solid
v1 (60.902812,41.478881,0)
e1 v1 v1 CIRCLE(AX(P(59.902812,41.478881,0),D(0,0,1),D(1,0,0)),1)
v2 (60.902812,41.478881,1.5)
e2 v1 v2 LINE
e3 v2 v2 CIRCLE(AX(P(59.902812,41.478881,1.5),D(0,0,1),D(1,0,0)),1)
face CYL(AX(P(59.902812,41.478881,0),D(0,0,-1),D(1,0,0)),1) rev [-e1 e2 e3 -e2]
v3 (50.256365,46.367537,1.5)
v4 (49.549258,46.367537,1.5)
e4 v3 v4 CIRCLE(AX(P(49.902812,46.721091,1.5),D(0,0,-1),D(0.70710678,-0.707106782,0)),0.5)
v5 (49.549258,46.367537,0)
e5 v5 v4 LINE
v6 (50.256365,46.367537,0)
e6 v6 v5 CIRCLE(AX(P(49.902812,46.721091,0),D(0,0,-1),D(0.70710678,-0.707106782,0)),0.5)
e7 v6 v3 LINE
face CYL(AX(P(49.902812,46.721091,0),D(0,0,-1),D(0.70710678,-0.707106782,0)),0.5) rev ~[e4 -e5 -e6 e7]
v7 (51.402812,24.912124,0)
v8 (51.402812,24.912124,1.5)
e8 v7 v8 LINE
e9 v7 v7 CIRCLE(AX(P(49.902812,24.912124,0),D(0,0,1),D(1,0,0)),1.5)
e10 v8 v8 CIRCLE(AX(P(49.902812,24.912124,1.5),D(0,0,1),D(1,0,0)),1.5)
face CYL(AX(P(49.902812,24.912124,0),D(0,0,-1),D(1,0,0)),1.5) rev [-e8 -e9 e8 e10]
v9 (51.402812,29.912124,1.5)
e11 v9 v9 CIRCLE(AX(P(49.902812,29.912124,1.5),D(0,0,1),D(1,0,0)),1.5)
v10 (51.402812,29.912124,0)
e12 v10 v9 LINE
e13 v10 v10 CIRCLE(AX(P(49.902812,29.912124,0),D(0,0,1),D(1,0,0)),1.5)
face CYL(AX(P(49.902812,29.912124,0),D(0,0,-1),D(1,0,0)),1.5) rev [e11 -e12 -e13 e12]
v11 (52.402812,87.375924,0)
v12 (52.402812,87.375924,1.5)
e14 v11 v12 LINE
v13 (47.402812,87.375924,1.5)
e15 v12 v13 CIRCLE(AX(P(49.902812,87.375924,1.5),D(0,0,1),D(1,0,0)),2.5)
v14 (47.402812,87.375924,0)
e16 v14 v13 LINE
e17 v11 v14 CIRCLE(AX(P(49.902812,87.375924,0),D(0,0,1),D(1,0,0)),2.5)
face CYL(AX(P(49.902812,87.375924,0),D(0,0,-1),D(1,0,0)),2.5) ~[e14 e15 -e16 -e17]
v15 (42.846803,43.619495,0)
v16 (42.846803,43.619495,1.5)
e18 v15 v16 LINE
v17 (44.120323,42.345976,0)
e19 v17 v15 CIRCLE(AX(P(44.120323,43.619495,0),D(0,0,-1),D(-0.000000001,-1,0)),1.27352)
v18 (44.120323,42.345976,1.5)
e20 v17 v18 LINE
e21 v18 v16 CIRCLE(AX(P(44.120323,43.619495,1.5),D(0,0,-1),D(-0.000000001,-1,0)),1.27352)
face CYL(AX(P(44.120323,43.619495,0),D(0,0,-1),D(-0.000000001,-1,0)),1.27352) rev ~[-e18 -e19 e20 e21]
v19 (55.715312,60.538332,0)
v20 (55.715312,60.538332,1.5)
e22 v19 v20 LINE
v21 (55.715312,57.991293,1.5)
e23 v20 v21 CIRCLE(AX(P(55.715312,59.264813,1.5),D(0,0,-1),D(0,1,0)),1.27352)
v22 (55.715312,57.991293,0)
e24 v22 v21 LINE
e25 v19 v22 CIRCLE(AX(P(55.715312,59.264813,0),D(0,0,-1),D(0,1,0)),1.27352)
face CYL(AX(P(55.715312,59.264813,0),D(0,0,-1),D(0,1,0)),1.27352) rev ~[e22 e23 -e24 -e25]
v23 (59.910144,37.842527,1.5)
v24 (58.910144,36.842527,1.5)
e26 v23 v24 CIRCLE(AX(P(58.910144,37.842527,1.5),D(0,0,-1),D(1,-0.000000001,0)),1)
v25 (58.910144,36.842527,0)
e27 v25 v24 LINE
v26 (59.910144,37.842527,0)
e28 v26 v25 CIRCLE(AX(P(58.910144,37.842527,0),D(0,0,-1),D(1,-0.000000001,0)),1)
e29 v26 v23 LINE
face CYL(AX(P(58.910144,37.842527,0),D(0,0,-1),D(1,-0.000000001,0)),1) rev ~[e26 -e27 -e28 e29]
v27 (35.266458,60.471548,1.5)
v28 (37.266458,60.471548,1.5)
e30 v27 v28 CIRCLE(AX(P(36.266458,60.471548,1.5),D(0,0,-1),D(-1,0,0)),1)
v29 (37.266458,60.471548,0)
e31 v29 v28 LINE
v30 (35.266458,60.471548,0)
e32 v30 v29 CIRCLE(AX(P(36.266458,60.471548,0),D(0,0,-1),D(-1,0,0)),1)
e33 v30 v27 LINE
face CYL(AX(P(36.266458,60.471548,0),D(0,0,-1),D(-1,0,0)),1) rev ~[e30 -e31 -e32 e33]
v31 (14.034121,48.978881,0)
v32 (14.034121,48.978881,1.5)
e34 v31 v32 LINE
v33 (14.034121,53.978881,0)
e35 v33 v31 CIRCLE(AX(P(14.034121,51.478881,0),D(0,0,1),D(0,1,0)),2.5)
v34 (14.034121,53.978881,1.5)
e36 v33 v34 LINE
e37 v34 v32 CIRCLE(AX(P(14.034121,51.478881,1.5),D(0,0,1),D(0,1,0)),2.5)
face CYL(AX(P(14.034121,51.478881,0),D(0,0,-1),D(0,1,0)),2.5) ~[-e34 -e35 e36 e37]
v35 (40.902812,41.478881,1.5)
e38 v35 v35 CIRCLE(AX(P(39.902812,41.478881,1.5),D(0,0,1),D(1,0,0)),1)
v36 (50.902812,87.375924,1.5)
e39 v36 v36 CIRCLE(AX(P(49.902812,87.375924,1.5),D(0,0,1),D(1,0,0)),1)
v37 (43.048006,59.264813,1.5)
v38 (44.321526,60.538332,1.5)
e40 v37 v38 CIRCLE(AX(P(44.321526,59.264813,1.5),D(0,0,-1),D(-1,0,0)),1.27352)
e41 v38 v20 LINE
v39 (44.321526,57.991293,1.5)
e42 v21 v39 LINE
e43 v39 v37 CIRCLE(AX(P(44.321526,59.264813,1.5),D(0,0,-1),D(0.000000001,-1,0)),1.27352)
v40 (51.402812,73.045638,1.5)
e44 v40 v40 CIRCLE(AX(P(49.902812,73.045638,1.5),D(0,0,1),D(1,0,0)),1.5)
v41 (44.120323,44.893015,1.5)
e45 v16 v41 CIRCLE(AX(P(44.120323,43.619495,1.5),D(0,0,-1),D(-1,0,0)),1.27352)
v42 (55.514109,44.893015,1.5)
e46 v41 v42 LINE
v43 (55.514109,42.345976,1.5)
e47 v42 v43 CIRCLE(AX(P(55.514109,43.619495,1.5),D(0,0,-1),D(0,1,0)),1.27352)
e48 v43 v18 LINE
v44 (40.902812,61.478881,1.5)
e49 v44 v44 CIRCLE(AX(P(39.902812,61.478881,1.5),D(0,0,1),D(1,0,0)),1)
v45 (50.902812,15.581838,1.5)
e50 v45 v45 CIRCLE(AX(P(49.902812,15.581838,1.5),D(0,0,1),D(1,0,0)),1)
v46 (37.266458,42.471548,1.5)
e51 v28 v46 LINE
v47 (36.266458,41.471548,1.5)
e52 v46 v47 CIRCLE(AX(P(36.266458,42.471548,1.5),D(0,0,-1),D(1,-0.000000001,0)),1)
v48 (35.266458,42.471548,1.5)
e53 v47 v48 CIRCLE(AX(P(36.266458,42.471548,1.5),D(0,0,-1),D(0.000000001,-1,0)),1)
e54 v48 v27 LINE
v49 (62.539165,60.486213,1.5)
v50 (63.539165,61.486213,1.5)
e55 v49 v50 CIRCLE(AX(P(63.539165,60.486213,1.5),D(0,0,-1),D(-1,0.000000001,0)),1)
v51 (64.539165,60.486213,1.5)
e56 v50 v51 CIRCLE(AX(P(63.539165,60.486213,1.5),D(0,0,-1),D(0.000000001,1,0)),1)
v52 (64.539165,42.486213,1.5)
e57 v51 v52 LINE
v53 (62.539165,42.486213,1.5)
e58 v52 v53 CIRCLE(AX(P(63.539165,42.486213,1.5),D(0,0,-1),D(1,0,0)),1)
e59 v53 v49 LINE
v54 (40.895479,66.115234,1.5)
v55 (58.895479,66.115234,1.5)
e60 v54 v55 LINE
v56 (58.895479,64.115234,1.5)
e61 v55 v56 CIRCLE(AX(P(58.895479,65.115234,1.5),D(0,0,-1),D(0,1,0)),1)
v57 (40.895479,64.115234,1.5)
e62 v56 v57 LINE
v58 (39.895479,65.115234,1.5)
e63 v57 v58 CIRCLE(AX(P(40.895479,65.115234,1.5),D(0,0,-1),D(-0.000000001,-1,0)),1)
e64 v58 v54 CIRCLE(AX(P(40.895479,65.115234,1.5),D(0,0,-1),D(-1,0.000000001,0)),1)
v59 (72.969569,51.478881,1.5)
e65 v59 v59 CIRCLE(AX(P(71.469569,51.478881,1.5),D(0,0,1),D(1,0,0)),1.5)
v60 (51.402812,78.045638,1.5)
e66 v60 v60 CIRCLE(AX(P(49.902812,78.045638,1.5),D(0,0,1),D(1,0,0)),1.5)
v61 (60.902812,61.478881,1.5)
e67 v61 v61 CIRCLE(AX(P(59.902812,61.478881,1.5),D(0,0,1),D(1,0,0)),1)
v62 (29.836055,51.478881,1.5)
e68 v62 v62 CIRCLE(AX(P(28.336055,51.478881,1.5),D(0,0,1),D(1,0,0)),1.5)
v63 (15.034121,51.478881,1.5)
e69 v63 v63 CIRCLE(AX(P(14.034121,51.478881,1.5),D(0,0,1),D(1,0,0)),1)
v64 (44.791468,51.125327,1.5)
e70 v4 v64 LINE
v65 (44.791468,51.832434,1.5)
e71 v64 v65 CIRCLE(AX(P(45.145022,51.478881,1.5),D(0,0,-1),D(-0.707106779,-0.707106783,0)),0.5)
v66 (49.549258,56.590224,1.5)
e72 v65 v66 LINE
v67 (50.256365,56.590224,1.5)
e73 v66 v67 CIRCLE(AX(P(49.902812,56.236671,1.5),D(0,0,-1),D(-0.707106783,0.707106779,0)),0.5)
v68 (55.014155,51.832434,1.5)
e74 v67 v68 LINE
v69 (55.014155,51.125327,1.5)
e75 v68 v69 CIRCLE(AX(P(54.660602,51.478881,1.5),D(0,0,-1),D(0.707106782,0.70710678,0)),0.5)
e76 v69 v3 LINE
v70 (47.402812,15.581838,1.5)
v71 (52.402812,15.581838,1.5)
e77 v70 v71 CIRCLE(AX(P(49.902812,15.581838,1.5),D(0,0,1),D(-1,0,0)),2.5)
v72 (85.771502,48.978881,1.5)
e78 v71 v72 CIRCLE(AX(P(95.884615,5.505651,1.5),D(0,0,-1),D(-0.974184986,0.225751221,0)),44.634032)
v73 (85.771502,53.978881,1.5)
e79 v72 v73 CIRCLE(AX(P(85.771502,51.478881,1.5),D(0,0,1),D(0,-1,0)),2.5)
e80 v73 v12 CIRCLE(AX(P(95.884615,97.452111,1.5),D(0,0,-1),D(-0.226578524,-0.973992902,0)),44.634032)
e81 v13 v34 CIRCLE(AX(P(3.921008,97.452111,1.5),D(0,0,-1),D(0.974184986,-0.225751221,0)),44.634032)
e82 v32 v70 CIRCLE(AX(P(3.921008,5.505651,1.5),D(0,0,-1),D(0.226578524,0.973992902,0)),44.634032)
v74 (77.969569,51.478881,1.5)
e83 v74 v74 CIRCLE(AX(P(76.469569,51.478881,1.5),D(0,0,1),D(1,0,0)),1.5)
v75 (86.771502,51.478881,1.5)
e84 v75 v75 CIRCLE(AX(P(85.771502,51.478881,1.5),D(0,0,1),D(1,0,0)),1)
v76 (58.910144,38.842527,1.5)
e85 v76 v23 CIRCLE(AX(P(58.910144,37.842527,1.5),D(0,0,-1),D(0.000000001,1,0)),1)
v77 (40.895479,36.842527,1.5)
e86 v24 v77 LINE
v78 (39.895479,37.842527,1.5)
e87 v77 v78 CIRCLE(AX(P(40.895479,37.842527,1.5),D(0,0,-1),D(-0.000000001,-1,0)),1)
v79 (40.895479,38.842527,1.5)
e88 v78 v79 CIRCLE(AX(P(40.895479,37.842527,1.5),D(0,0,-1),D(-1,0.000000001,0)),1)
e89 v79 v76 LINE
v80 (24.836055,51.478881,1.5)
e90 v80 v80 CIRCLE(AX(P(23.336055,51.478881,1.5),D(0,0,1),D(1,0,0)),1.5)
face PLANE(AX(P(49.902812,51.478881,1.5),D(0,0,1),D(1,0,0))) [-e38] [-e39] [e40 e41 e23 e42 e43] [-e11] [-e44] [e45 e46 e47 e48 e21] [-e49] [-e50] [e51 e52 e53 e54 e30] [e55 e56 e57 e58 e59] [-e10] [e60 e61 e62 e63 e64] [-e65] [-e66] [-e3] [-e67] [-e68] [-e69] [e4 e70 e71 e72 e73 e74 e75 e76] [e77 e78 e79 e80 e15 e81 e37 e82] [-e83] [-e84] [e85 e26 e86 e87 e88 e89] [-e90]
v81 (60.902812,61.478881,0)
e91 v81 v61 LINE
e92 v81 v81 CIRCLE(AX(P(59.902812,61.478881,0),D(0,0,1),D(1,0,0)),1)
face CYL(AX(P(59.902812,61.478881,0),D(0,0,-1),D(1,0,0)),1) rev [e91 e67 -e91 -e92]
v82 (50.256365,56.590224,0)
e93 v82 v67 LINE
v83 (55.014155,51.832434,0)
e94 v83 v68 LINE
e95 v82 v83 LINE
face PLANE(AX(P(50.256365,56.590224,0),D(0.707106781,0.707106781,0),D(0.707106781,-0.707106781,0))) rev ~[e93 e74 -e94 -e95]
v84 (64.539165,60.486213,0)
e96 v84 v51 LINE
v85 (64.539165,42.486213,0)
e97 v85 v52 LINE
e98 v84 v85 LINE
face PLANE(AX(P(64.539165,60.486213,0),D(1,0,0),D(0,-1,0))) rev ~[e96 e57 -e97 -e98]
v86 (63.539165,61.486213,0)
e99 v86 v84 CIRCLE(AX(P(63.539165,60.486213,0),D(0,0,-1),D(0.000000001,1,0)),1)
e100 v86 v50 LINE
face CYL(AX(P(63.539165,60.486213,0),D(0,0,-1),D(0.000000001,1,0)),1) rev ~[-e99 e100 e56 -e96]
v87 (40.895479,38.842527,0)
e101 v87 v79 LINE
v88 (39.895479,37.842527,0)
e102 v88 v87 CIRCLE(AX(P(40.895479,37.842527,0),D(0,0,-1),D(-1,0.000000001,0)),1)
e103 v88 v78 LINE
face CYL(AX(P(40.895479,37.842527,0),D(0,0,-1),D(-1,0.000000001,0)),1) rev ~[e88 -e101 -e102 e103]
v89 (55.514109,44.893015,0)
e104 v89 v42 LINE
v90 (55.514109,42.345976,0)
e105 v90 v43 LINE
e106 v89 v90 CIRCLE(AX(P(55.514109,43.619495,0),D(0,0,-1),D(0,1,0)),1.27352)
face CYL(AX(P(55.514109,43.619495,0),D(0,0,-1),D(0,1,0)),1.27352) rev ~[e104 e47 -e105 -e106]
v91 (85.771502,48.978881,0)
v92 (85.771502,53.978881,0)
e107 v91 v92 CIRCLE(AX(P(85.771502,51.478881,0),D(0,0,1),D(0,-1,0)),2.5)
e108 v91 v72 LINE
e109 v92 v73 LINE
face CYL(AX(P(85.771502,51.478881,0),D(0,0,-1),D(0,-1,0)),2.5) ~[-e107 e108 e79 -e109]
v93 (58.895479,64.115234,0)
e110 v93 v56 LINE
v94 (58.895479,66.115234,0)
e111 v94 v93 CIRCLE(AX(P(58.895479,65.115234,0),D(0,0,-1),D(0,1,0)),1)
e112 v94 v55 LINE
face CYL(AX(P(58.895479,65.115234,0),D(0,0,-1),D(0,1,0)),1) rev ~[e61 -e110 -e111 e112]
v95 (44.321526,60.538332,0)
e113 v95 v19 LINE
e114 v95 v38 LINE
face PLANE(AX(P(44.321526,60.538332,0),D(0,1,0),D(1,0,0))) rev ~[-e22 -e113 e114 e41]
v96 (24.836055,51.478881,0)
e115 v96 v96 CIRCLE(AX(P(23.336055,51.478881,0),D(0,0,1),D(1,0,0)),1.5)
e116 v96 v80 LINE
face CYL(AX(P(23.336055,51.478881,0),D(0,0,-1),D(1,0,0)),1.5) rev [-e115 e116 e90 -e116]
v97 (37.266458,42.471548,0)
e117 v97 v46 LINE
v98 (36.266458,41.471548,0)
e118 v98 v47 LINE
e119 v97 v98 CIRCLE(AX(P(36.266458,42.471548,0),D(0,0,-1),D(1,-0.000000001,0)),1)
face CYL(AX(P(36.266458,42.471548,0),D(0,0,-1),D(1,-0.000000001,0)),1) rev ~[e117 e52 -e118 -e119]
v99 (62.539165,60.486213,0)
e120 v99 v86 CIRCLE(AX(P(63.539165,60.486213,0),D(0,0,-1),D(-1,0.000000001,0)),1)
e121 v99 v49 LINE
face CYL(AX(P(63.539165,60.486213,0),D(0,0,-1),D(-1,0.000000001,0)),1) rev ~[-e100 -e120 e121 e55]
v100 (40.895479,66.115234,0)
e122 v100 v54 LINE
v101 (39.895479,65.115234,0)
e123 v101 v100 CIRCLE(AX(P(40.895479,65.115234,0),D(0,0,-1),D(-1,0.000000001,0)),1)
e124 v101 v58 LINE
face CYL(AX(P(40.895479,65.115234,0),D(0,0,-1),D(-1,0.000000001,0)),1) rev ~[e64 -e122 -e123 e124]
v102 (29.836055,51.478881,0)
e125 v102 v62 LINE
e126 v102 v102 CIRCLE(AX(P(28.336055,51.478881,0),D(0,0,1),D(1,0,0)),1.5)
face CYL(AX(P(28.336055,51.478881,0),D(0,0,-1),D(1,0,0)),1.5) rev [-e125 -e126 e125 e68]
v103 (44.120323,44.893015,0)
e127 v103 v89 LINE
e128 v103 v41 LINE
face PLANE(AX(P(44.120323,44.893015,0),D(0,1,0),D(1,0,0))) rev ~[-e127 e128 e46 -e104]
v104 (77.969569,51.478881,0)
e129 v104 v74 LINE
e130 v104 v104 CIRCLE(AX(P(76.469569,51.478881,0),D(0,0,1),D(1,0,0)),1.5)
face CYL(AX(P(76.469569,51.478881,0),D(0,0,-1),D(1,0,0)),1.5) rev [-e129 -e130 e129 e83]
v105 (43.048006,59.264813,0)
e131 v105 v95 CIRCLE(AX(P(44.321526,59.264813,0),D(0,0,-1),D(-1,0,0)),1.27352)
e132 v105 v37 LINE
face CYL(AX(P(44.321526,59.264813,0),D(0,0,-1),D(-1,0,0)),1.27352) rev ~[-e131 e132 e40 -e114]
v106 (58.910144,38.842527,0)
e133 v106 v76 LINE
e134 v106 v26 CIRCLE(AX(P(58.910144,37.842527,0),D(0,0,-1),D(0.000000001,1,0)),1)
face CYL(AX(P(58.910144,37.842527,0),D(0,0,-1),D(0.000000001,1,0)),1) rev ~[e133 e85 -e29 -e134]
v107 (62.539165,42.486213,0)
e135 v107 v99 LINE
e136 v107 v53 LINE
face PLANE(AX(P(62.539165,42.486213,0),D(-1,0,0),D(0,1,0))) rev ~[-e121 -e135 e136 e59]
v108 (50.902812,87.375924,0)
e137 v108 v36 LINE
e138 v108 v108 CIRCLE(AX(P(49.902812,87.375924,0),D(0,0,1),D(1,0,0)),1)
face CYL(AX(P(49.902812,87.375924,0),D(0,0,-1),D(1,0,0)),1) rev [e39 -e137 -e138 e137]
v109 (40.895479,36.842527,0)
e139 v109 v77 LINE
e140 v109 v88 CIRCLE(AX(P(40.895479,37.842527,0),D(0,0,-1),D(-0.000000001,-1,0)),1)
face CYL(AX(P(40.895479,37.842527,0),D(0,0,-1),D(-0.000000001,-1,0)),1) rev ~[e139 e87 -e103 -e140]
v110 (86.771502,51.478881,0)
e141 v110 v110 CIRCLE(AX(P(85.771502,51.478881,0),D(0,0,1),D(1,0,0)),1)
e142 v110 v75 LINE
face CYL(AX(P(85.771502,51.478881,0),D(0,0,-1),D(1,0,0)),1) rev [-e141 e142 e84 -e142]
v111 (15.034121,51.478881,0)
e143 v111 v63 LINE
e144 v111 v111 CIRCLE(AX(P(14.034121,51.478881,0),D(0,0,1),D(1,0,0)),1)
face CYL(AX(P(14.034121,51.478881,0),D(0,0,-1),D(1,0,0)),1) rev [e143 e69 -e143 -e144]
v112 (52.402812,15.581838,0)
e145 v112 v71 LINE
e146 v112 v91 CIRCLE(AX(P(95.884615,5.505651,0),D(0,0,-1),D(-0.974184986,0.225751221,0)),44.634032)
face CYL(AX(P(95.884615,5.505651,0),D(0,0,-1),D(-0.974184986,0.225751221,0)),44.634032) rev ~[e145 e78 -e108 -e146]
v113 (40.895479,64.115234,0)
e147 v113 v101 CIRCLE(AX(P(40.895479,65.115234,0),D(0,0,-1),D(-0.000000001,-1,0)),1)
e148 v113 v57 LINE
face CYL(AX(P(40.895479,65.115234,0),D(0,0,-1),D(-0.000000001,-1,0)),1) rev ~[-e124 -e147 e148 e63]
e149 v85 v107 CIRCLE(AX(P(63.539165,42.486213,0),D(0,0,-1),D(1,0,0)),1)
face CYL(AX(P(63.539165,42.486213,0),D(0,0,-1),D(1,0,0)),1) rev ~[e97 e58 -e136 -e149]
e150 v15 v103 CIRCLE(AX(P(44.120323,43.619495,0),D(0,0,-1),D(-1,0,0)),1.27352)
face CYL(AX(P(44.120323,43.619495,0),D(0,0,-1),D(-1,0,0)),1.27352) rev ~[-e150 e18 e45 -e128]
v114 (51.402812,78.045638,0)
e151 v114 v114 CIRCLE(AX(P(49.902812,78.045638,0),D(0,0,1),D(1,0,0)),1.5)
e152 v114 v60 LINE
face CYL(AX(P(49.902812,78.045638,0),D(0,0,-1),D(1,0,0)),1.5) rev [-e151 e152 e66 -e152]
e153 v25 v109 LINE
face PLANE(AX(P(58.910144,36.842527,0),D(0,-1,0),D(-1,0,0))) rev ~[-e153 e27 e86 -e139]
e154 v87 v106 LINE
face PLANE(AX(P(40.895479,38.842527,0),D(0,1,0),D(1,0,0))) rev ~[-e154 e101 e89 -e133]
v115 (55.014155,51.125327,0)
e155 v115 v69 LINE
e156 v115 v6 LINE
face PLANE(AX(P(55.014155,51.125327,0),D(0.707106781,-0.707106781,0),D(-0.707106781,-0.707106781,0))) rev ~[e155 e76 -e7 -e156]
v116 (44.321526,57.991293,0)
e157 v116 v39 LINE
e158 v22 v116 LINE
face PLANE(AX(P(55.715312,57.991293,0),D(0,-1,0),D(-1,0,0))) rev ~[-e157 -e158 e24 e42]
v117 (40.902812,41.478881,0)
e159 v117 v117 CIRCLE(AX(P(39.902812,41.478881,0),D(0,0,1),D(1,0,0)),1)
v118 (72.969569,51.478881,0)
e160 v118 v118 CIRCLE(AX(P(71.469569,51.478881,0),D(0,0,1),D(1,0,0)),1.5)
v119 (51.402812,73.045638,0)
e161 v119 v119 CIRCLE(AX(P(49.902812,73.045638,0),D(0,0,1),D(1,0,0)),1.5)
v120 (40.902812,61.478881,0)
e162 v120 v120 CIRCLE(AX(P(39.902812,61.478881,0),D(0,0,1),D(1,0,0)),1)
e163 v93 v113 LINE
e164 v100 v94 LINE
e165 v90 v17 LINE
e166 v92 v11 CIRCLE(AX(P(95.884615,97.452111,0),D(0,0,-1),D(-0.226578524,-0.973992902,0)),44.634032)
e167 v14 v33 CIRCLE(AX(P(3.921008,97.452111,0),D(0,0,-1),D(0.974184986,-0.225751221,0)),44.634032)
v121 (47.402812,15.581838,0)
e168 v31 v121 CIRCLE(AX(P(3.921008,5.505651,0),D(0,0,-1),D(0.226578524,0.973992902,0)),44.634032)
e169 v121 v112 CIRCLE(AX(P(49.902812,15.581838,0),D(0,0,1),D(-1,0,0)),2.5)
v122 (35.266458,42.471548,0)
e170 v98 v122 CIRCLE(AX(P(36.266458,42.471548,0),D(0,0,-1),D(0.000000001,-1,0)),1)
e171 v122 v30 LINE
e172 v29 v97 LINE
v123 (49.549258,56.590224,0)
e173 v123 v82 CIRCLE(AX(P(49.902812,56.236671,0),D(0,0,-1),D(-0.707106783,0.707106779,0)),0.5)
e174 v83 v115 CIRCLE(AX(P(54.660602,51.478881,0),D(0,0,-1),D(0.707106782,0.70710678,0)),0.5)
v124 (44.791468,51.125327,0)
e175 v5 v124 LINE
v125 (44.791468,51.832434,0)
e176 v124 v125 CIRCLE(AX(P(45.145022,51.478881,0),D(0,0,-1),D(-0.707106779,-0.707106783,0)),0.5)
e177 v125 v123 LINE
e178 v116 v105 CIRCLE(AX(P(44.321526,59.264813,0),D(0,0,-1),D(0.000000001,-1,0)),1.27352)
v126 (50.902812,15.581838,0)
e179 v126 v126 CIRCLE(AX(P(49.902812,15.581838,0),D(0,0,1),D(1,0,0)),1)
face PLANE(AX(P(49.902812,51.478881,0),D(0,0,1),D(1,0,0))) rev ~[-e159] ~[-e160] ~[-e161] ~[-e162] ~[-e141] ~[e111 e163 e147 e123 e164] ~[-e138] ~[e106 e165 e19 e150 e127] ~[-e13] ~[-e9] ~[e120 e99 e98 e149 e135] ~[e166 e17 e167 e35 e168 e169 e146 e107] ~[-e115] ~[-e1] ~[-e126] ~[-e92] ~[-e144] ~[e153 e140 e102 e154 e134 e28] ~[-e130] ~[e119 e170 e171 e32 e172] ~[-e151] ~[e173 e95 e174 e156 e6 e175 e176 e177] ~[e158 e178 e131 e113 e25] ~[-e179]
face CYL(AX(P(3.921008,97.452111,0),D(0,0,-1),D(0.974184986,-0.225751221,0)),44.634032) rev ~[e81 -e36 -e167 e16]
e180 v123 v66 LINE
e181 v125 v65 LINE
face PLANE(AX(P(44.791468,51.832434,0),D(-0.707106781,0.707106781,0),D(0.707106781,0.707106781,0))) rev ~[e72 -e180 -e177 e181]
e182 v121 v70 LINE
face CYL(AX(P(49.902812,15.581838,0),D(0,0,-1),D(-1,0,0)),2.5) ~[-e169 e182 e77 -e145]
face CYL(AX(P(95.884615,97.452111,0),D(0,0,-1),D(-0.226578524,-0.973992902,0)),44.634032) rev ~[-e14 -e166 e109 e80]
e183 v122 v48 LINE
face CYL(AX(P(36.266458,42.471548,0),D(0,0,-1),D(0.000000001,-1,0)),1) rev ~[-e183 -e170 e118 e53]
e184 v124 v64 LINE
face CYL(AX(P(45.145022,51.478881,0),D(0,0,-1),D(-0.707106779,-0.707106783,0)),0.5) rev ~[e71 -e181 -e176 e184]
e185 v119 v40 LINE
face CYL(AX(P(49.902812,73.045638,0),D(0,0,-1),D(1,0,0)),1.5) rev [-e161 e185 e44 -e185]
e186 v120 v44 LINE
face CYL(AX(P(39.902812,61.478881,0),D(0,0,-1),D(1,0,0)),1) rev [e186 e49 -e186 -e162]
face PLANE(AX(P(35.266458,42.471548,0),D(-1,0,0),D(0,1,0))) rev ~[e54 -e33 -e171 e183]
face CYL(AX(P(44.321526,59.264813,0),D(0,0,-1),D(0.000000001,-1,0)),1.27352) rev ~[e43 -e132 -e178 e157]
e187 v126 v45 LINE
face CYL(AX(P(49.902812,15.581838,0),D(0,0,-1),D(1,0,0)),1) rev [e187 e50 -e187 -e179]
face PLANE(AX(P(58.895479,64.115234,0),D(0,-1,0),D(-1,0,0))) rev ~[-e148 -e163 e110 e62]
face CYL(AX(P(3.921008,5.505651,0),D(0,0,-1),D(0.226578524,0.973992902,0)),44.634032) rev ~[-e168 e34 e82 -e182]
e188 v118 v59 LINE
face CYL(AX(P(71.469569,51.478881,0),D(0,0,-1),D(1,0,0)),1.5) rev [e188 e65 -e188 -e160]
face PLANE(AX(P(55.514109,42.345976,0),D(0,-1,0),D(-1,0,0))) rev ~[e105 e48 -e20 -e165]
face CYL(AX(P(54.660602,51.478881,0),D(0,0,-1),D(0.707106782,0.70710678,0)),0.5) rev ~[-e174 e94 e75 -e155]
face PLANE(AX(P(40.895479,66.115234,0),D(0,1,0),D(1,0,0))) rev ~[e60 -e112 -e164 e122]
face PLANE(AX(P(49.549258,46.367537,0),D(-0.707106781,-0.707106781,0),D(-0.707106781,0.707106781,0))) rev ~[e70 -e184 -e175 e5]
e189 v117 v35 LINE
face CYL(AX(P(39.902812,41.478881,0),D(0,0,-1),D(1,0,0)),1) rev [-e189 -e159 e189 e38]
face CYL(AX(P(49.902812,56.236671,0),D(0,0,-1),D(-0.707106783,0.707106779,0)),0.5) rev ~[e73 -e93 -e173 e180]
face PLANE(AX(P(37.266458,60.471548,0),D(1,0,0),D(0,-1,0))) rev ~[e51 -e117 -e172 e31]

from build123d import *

# Parameters (mm, degrees)
MODEL_R         = 1
MODEL_R_2       = 1.5
EXTRUDE_1_DEPTH = 1.5


with BuildPart() as part:
    # Model → 凸台-拉伸1 (new body)
    with BuildSketch(Plane.XY):
        with BuildLine():
            ThreePointArc((52.402811695, 15.581837899), (64.310189073, 37.053271897), (85.771502284, 48.978880864))
            ThreePointArc((85.771502284, 48.978880864), (88.271502284, 51.478880864), (85.771502284, 53.978880864))
            ThreePointArc((85.771502284, 53.978880864), (64.310189073, 65.90448983), (52.402811695, 87.375923829))
            ThreePointArc((52.402811695, 87.375923829), (49.902811695, 89.875923829), (47.402811695, 87.375923829))
            ThreePointArc((47.402811695, 87.375923829), (35.495434317, 65.90448983), (14.034121106, 53.978880864))
            ThreePointArc((14.034121106, 53.978880864), (11.534121106, 51.478880864), (14.034121106, 48.978880864))
            ThreePointArc((14.034121106, 48.978880864), (35.495434317, 37.053271897), (47.402811695, 15.581837899))
            ThreePointArc((47.402811695, 15.581837899), (49.902811695, 13.081837899), (52.402811695, 15.581837899))
        make_face()
        with Locations((39.902811695, 41.478880864)):
            Circle(MODEL_R, mode=Mode.SUBTRACT)
        with BuildLine():
            Line((37.266458229, 60.471548336), (37.266458229, 42.471548336))
            ThreePointArc((37.266458229, 42.471548336), (36.97356501, 41.764441555), (36.266458229, 41.471548336))
            ThreePointArc((36.266458229, 41.471548336), (35.559351447, 41.764441555), (35.266458229, 42.471548336))
            Line((35.266458229, 42.471548336), (35.266458229, 60.471548336))
            ThreePointArc((35.266458229, 60.471548336), (36.266458229, 61.471548336), (37.266458229, 60.471548336))
        make_face(mode=Mode.SUBTRACT)
        with BuildLine():
            ThreePointArc((55.514109326, 44.893015049), (56.787629095, 43.61949528), (55.514109326, 42.34597551))
            Line((55.514109326, 42.34597551), (44.120323024, 42.345975511))
            ThreePointArc((44.120323024, 42.345975511), (43.219808559, 42.718980816), (42.846803254, 43.619495281))
            ThreePointArc((42.846803254, 43.619495281), (43.219808559, 44.520009746), (44.120323024, 44.89301505))
            Line((44.120323024, 44.89301505), (55.514109326, 44.893015049))
        make_face(mode=Mode.SUBTRACT)
        with Locations((49.902811695, 15.581837899)):
            Circle(MODEL_R, mode=Mode.SUBTRACT)
        with Locations((49.902811695, 24.912124037)):
            Circle(MODEL_R_2, mode=Mode.SUBTRACT)
        with Locations((49.902811695, 29.912124037)):
            Circle(MODEL_R_2, mode=Mode.SUBTRACT)
        with BuildLine():
            Line((58.895479167, 38.842527397), (58.910144223, 38.842527397))
            ThreePointArc((58.910144223, 38.842527397), (59.617251004, 38.549634178), (59.910144223, 37.842527397))
            ThreePointArc((59.910144223, 37.842527397), (59.617251004, 37.135420616), (58.910144223, 36.842527397))
            Line((58.910144223, 36.842527397), (58.895479167, 36.842527397))
            Line((58.895479167, 36.842527397), (40.910144223, 36.842527397))
            Line((40.910144223, 36.842527397), (40.895479167, 36.842527397))
            ThreePointArc((40.895479167, 36.842527397), (40.188372386, 37.135420616), (39.895479167, 37.842527397))
            ThreePointArc((39.895479167, 37.842527397), (40.188372386, 38.549634178), (40.895479167, 38.842527397))
            Line((40.895479167, 38.842527397), (40.910144223, 38.842527397))
            Line((40.910144223, 38.842527397), (58.895479167, 38.842527397))
        make_face(mode=Mode.SUBTRACT)
        with Locations((59.902811695, 41.478880864)):
            Circle(MODEL_R, mode=Mode.SUBTRACT)
        with Locations((14.034121106, 51.478880864)):
            Circle(MODEL_R, mode=Mode.SUBTRACT)
        with Locations((23.336054869, 51.478880864)):
            Circle(MODEL_R_2, mode=Mode.SUBTRACT)
        with Locations((28.336054869, 51.478880864)):
            Circle(MODEL_R_2, mode=Mode.SUBTRACT)
        with Locations((39.902811695, 61.478880864)):
            Circle(MODEL_R, mode=Mode.SUBTRACT)
        with BuildLine():
            Line((58.895479167, 64.11523433), (40.895479167, 64.11523433))
            ThreePointArc((40.895479167, 64.11523433), (40.188372386, 64.408127549), (39.895479167, 65.11523433))
            ThreePointArc((39.895479167, 65.11523433), (40.188372386, 65.822341111), (40.895479167, 66.11523433))
            Line((40.895479167, 66.11523433), (58.895479167, 66.11523433))
            ThreePointArc((58.895479167, 66.11523433), (59.895479167, 65.11523433), (58.895479167, 64.11523433))
        make_face(mode=Mode.SUBTRACT)
        with BuildLine():
            Line((50.256365086, 56.590224257), (55.014155089, 51.832434254))
            ThreePointArc((55.014155089, 51.832434254), (55.160601698, 51.478880864), (55.014155089, 51.125327473))
            Line((55.014155089, 51.125327473), (50.256365086, 46.36753747))
            ThreePointArc((50.256365086, 46.36753747), (49.902811695, 46.221090861), (49.549258305, 46.36753747))
            Line((49.549258305, 46.36753747), (44.791468302, 51.125327473))
            ThreePointArc((44.791468302, 51.125327473), (44.645021692, 51.478880864), (44.791468302, 51.832434254))
            Line((44.791468302, 51.832434254), (49.549258305, 56.590224257))
            ThreePointArc((49.549258305, 56.590224257), (49.902811695, 56.736670867), (50.256365086, 56.590224257))
        make_face(mode=Mode.SUBTRACT)
        with BuildLine():
            Line((44.321526015, 60.538332308), (55.715312317, 60.538332308))
            ThreePointArc((55.715312317, 60.538332308), (56.988832087, 59.264812538), (55.715312317, 57.991292769))
            Line((55.715312317, 57.991292769), (44.321526015, 57.991292769))
            ThreePointArc((44.321526015, 57.991292769), (43.42101155, 58.364298073), (43.048006246, 59.264812538))
            ThreePointArc((43.048006246, 59.264812538), (43.42101155, 60.165327003), (44.321526015, 60.538332308))
        make_face(mode=Mode.SUBTRACT)
        with BuildLine():
            Line((62.539165162, 42.486213392), (62.539165162, 60.486213392))
            ThreePointArc((62.539165162, 60.486213392), (62.832058381, 61.193320173), (63.539165162, 61.486213392))
            ThreePointArc((63.539165162, 61.486213392), (64.246271943, 61.193320173), (64.539165162, 60.486213392))
            Line((64.539165162, 60.486213392), (64.539165162, 42.486213392))
            ThreePointArc((64.539165162, 42.486213392), (63.539165162, 41.486213392), (62.539165162, 42.486213392))
        make_face(mode=Mode.SUBTRACT)
        with Locations((59.902811695, 61.478880864)):
            Circle(MODEL_R, mode=Mode.SUBTRACT)
        with Locations((71.469568521, 51.478880864)):
            Circle(MODEL_R_2, mode=Mode.SUBTRACT)
        with Locations((76.469568521, 51.478880864)):
            Circle(MODEL_R_2, mode=Mode.SUBTRACT)
        with Locations((85.771502284, 51.478880864)):
            Circle(MODEL_R, mode=Mode.SUBTRACT)
        with Locations((49.902811695, 73.04563769)):
            Circle(MODEL_R_2, mode=Mode.SUBTRACT)
        with Locations((49.902811695, 78.04563769)):
            Circle(MODEL_R_2, mode=Mode.SUBTRACT)
        with Locations((49.902811695, 87.375923829)):
            Circle(MODEL_R, mode=Mode.SUBTRACT)
    extrude(amount=EXTRUDE_1_DEPTH)


solid = part.part
